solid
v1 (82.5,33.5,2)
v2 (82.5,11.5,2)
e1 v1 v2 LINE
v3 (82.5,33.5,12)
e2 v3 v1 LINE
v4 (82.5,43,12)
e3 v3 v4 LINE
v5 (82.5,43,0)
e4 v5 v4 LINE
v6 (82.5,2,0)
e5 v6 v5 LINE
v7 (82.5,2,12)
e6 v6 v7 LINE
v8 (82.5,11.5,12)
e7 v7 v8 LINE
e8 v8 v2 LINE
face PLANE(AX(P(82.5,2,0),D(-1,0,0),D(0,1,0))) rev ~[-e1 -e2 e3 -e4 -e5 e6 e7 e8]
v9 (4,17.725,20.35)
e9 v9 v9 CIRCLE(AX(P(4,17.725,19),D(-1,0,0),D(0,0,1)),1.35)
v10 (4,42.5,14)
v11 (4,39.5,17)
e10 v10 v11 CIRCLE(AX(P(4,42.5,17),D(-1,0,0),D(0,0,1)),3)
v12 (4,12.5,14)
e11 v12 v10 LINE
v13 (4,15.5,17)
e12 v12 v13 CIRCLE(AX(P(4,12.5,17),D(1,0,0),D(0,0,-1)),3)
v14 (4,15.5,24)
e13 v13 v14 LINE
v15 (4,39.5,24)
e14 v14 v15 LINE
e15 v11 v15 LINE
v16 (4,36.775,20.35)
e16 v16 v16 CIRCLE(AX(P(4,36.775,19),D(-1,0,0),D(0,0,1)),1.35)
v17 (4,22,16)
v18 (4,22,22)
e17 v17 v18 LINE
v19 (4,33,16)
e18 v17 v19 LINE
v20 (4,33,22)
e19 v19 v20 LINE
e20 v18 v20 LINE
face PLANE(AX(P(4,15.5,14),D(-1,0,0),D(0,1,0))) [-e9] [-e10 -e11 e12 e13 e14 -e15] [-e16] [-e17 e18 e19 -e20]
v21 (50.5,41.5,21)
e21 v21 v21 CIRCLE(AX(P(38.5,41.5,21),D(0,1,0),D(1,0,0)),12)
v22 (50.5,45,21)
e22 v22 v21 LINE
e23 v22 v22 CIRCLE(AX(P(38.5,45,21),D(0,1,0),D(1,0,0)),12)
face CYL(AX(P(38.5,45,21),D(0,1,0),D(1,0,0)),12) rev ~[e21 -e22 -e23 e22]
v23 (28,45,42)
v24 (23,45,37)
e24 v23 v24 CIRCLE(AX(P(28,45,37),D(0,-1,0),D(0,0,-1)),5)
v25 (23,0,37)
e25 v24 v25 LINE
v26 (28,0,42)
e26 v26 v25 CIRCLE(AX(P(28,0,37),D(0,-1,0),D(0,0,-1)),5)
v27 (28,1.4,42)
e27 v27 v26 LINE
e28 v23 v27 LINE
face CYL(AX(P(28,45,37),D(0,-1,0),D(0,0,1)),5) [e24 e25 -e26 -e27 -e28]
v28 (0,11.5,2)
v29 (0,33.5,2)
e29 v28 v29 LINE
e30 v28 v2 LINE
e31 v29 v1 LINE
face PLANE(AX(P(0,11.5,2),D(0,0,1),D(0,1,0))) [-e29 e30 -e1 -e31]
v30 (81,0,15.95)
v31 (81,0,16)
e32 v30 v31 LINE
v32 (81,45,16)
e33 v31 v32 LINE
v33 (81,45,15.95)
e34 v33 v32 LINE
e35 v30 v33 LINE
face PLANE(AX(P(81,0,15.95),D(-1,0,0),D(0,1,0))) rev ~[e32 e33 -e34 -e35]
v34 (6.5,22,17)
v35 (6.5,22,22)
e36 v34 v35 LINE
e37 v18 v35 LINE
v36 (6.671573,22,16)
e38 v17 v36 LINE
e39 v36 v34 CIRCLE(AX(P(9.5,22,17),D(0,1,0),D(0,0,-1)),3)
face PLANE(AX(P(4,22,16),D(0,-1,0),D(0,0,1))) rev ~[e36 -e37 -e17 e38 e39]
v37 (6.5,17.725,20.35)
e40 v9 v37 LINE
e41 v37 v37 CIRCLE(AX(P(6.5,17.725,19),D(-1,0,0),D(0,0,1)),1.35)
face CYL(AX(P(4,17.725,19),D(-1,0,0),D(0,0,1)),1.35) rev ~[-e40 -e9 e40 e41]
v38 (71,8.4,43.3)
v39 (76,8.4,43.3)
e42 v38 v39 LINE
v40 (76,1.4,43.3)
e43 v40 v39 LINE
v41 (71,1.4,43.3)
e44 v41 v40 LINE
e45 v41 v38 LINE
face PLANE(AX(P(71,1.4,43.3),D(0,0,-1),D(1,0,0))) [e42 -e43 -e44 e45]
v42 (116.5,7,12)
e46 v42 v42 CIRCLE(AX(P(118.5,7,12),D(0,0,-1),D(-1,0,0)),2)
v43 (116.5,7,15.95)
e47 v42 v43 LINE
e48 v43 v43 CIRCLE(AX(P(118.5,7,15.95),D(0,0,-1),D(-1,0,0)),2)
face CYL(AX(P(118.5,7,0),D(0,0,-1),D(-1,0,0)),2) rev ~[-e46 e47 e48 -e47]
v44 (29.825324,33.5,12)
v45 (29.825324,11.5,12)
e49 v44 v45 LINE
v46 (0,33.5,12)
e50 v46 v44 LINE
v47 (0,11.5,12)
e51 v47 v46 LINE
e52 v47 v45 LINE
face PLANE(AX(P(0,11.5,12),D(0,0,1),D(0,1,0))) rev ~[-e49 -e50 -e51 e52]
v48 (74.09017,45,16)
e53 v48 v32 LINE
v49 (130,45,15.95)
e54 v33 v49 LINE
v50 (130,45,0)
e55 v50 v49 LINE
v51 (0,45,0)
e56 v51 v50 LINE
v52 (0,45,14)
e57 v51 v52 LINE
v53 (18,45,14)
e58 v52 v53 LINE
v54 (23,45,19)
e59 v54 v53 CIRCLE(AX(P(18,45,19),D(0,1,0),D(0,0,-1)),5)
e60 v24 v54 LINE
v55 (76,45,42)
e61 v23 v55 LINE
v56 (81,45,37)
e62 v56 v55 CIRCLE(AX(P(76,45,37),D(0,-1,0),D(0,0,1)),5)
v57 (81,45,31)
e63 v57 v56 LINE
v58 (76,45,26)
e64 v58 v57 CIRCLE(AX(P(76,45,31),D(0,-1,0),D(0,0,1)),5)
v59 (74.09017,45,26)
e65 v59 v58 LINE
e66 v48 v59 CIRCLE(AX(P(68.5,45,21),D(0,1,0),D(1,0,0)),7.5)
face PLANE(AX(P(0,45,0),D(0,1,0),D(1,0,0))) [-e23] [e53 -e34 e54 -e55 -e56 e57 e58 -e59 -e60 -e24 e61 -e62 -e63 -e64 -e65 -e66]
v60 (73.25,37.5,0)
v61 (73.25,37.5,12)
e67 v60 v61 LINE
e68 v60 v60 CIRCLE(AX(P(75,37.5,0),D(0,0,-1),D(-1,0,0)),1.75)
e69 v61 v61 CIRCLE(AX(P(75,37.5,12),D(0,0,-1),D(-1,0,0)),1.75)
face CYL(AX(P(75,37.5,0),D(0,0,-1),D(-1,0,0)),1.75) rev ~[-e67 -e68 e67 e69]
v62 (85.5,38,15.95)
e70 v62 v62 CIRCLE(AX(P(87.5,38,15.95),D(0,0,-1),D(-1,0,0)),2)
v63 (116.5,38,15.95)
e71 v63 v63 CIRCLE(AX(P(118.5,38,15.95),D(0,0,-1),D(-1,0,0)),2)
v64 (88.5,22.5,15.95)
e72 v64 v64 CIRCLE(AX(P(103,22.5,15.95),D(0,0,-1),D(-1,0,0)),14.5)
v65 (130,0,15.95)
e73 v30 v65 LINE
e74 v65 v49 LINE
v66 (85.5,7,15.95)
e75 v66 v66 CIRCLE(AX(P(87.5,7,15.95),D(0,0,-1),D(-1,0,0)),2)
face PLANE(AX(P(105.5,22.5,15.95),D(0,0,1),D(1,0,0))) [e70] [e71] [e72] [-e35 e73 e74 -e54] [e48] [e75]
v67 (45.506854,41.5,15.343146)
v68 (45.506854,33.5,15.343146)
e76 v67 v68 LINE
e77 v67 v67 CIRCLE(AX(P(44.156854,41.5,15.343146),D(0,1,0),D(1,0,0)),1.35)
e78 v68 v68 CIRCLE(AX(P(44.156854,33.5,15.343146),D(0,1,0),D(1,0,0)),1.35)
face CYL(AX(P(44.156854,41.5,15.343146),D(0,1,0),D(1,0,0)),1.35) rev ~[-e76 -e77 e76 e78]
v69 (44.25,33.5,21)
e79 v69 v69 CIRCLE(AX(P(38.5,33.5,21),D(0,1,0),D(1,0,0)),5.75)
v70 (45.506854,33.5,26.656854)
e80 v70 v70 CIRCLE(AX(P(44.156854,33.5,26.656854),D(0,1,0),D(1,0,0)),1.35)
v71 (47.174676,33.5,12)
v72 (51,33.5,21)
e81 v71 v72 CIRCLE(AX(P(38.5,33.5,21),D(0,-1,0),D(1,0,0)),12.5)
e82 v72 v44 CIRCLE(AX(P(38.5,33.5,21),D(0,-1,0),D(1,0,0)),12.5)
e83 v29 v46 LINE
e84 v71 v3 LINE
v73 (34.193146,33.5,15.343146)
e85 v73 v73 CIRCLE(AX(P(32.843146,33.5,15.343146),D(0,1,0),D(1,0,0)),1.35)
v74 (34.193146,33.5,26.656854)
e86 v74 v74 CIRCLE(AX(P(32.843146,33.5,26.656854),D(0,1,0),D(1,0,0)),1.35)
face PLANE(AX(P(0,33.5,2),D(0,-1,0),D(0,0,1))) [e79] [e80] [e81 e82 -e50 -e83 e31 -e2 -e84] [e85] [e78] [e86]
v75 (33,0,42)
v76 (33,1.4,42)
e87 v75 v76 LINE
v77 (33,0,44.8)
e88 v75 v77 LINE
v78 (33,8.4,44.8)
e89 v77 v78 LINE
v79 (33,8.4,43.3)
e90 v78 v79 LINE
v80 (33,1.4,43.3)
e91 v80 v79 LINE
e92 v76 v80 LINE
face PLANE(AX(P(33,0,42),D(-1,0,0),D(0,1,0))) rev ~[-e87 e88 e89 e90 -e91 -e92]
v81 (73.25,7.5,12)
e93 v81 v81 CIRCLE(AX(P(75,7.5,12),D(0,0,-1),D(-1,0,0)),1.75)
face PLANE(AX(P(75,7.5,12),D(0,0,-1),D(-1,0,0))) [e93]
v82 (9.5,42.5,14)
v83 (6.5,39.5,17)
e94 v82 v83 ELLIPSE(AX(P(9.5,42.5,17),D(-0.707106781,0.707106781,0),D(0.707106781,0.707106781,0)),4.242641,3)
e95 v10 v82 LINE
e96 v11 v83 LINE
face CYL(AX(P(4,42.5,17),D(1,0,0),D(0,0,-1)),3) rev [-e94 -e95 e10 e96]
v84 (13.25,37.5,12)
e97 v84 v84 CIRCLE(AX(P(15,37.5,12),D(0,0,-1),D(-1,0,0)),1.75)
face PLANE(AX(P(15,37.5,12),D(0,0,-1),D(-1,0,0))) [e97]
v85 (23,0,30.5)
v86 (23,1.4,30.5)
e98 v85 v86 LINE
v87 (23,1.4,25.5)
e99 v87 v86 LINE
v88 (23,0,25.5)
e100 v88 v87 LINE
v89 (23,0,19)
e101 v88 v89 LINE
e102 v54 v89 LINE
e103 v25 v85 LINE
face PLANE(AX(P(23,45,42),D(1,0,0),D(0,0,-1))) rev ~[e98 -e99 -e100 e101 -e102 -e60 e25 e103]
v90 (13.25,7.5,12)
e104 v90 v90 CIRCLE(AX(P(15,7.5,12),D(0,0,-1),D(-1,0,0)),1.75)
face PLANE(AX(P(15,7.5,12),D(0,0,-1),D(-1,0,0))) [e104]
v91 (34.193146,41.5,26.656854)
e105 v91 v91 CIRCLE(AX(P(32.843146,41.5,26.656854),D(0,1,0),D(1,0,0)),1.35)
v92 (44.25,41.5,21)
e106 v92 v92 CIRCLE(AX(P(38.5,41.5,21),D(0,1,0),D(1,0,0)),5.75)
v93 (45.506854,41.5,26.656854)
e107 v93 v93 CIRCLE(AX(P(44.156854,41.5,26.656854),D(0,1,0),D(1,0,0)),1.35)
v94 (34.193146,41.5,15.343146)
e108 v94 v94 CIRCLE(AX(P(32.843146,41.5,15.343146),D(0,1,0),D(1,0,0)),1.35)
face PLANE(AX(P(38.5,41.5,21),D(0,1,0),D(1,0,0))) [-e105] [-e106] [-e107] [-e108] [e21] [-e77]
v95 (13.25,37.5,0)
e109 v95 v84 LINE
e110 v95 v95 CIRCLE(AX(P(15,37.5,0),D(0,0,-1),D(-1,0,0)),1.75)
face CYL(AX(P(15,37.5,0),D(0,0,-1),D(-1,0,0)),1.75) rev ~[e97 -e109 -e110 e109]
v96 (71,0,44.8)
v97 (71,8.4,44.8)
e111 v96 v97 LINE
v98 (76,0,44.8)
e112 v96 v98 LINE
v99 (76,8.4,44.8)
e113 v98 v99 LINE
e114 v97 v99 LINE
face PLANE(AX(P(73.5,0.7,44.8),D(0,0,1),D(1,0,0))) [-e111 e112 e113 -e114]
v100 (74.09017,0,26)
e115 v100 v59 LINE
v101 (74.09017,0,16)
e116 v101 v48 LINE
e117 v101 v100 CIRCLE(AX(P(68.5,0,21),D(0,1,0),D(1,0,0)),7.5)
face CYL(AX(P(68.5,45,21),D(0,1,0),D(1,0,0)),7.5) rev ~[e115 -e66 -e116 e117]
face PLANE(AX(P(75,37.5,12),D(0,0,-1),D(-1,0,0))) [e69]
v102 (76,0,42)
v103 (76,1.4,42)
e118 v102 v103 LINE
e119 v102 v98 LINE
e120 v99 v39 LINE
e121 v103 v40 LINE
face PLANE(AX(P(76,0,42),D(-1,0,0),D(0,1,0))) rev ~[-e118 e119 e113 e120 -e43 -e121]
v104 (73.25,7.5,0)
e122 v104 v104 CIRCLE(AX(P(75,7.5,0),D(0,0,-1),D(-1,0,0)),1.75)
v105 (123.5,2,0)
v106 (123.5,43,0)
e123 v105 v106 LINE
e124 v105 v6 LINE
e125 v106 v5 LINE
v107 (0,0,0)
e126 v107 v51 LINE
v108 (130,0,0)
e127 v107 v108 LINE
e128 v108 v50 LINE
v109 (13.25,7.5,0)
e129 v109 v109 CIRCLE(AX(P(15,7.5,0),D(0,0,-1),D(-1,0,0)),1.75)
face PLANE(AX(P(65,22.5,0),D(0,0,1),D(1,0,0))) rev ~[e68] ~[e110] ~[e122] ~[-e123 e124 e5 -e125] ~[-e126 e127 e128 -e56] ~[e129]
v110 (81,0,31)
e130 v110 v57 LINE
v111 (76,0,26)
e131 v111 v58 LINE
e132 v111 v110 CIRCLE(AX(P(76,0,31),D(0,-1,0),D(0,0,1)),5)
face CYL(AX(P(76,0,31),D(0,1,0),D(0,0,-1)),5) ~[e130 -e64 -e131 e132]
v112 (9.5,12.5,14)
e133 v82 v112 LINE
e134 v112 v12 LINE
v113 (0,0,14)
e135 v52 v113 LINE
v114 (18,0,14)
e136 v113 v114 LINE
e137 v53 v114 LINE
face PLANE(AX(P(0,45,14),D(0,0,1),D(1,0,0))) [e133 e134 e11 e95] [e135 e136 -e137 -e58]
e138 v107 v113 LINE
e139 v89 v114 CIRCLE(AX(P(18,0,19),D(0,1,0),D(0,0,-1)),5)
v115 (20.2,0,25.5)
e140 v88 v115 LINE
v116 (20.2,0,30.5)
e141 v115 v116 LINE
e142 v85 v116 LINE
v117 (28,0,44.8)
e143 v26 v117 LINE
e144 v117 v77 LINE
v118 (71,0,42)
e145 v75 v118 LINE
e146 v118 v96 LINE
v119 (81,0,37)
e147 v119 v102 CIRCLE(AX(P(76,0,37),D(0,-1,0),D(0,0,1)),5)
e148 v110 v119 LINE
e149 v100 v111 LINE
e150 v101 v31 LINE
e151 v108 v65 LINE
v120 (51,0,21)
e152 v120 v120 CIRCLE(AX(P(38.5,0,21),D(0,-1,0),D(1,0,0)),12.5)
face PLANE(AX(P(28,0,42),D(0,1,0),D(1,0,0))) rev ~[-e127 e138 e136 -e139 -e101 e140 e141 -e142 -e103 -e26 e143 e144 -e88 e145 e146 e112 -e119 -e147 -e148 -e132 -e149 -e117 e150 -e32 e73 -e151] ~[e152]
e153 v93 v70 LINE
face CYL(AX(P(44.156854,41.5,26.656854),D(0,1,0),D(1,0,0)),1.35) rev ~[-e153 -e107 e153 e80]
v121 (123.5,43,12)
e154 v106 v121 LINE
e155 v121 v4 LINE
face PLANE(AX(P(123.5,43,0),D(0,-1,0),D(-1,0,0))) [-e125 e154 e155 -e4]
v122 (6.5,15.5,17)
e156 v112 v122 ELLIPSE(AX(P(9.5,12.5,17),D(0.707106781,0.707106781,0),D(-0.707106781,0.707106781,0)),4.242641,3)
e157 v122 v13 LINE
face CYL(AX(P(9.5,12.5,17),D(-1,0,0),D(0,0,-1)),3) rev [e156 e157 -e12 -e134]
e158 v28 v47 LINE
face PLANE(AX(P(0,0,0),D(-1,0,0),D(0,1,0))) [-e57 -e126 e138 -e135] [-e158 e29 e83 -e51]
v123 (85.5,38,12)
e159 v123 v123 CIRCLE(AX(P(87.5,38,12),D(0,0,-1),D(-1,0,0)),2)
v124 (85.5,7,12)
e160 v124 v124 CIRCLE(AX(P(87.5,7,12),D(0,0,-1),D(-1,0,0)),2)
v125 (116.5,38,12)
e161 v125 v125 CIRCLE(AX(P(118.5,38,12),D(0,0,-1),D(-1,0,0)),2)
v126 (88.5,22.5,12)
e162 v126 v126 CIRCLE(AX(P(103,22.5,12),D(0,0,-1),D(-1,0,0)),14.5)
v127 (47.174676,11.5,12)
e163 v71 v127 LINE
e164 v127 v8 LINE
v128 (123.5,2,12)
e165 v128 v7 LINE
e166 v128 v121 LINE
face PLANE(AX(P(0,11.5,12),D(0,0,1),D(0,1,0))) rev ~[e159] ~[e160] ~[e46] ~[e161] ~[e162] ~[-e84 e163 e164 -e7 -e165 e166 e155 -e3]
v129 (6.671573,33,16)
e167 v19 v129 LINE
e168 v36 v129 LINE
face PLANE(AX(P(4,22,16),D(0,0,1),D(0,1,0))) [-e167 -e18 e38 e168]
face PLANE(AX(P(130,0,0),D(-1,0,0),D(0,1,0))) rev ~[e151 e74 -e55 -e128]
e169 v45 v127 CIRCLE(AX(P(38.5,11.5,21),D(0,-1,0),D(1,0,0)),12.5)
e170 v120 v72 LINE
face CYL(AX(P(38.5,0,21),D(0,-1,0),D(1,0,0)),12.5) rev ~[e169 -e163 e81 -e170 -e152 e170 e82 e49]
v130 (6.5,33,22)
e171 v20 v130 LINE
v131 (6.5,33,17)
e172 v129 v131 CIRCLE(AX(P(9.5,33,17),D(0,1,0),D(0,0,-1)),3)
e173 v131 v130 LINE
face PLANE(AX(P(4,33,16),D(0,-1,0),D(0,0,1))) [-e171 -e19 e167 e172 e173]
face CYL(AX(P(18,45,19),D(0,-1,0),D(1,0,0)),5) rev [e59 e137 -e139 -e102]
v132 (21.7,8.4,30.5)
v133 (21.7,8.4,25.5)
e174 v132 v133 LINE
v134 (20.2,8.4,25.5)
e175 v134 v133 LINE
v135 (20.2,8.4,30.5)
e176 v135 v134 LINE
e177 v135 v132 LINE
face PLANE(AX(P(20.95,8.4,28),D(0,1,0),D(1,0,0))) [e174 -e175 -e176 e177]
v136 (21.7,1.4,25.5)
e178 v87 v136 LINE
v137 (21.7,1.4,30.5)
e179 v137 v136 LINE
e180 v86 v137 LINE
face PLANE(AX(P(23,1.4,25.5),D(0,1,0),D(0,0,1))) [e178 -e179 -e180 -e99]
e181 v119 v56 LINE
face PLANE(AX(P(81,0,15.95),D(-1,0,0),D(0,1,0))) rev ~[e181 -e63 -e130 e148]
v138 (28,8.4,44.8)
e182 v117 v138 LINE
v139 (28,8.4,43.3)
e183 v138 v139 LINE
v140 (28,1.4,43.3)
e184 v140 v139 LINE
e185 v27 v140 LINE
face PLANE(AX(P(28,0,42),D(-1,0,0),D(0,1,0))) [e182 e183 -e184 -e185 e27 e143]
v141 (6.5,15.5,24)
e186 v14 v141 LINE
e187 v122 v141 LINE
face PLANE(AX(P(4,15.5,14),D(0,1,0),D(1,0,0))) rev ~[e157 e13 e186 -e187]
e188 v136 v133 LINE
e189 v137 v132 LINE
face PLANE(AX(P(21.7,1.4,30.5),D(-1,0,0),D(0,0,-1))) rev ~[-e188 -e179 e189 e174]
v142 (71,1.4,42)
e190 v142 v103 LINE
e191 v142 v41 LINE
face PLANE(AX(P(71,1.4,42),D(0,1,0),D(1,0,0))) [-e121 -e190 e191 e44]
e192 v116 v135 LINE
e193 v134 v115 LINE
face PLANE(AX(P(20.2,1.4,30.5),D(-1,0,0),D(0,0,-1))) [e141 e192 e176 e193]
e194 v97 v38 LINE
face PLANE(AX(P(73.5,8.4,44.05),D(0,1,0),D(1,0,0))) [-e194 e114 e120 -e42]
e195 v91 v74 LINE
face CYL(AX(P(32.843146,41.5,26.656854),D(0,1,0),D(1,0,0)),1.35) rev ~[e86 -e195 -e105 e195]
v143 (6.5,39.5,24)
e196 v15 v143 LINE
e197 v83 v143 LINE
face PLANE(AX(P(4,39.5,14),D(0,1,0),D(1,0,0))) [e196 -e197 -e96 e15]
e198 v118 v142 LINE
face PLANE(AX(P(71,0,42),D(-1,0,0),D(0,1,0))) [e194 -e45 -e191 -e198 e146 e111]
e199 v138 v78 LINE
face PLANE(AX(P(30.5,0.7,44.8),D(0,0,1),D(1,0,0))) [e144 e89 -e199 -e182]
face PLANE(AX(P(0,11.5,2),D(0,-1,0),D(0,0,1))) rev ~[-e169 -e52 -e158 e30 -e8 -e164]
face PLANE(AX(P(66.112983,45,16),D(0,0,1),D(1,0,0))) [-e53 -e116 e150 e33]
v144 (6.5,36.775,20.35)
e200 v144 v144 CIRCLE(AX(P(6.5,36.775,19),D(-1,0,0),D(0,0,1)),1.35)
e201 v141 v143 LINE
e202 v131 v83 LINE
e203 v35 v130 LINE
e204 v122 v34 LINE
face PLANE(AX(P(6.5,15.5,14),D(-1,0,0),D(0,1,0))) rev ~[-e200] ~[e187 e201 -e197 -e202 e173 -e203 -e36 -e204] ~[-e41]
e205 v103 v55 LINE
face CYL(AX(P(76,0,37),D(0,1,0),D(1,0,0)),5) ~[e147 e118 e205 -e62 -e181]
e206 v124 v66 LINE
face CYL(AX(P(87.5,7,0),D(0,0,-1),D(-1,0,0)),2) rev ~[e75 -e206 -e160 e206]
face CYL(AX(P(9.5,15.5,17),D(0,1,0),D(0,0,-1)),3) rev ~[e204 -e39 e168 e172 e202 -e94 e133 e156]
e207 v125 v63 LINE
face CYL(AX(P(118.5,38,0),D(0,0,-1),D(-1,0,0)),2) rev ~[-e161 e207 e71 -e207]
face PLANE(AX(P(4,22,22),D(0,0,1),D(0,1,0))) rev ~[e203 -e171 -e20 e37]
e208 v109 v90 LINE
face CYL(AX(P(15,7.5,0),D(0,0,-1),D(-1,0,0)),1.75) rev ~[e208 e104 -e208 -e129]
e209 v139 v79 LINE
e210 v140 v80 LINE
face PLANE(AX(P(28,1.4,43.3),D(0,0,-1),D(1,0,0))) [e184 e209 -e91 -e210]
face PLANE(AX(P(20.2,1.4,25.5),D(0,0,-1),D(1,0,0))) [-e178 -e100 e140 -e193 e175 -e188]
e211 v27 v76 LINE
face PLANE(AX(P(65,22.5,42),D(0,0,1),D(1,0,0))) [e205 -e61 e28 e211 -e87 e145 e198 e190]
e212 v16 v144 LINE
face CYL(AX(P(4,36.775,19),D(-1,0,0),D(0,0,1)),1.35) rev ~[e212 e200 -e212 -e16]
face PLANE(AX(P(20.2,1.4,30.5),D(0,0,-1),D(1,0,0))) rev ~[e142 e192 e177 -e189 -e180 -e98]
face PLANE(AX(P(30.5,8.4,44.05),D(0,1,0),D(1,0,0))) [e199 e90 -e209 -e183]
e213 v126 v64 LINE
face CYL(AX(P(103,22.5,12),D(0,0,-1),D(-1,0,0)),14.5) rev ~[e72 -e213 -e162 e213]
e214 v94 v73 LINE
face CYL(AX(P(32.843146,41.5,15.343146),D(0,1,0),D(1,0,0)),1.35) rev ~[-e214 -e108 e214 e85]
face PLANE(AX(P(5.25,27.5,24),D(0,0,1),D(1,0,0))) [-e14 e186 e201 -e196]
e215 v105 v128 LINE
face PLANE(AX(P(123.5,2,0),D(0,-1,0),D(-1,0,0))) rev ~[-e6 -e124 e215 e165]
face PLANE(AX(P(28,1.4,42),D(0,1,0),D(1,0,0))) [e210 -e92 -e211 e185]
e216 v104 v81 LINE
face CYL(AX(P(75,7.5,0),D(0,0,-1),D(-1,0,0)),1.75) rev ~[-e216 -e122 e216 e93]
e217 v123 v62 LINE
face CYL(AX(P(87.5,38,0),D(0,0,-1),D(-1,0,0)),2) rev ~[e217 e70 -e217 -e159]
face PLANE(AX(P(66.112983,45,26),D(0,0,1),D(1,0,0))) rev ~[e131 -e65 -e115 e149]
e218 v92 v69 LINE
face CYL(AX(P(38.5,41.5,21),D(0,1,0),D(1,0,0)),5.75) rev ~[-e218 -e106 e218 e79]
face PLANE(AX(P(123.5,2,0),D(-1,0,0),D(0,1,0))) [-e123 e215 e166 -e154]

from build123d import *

# Parameters (mm, degrees)
SKETCH1_W           = 130
SKETCH1_H           = 45
BOSS_EXTRUDE1_DEPTH = 42
SKETCH2_W           = 10
SKETCH2_H           = 22
CUT_EXTRUDE1_DEPTH  = 115
SKETCH3_W           = 41
SKETCH3_H           = 41
CUT_EXTRUDE2_DEPTH  = 12
CUT_EXTRUDE3_START  = -26.05
SKETCH5_W           = 49
SKETCH5_H           = 45
CUT_EXTRUDE3_DEPTH  = 26.05
SKETCH6_R           = 2
CUT_EXTRUDE4_DEPTH  = 43
SKETCH7_R           = 12
CUT_EXTRUDE5_DEPTH  = 3.5
SKETCH8_R           = 7.5
CUT_EXTRUDE6_DEPTH  = 46
SKETCH10_W          = 23
SKETCH10_H          = 28
CUT_EXTRUDE7_DEPTH  = 46
FILLET1_R           = 5
SKETCH11_R          = 5.75
CUT_EXTRUDE8_DEPTH  = 42.5
SKETCH12_R          = 1.35
CUT_EXTRUDE9_DEPTH  = 20
SKETCH14_R          = 1.75
CUT_EXTRUDE11_DEPTH = 12
SKETCH15_W          = 32.462008986
SKETCH15_H          = 10
CUT_EXTRUDE12_DEPTH = 46
FILLET2_R           = 5
FILLET3_R           = 5
SKETCH16_R          = 12.5
CUT_EXTRUDE13_DEPTH = 33.5
SKETCH17_W          = 2.5
SKETCH17_H          = 24
BOSS_EXTRUDE2_DEPTH = 10
SKETCH18_R          = 1.35
CUT_EXTRUDE14_DEPTH = 10
FILLET4_R           = 3
FILLET5_R           = 3
SKETCH20_W          = 5
SKETCH20_H          = 1.4
BOSS_EXTRUDE3_DEPTH = 2.8
SKETCH22_W          = 5
SKETCH22_H          = 1.4
BOSS_EXTRUDE4_DEPTH = 2.8
SKETCH25_W          = 1.5
SKETCH25_H          = 5
SKETCH25_W_2        = 5
SKETCH25_H_2        = 1.5
BOSS_EXTRUDE5_DEPTH = 7
SKETCH26_R          = 14.5
CUT_EXTRUDE15_DEPTH = 10
SKETCH27_W          = 6
SKETCH27_H          = 11
CUT_EXTRUDE16_DEPTH = 10


with BuildPart() as part:
    # Sketch1 → Boss-Extrude1 (new body)
    with BuildSketch(Plane.XY):
        with Locations((65, 22.5)):
            Rectangle(SKETCH1_W, SKETCH1_H)
    extrude(amount=BOSS_EXTRUDE1_DEPTH)

    # Sketch2 → Cut-Extrude1 (cut)
    with BuildSketch(Plane.ZY):
        with Locations((7, 22.5)):
            Rectangle(SKETCH2_W, SKETCH2_H)
    extrude(amount=-CUT_EXTRUDE1_DEPTH, mode=Mode.SUBTRACT)

    # Sketch3 → Cut-Extrude2 (cut)
    with BuildSketch(Plane(origin=(0, 0, 0), x_dir=(-1, 0, 0), z_dir=(0, 0, -1))):
        with Locations((-103, 22.5)):
            Rectangle(SKETCH3_W, SKETCH3_H)
    extrude(amount=-CUT_EXTRUDE2_DEPTH, mode=Mode.SUBTRACT)

    # Sketch5 → Cut-Extrude3 (cut)
    with BuildSketch(Plane.XY.offset(42).offset(CUT_EXTRUDE3_START)):
        with Locations((105.5, 22.5)):
            Rectangle(SKETCH5_W, SKETCH5_H)
    extrude(amount=CUT_EXTRUDE3_DEPTH, mode=Mode.SUBTRACT)

    # Sketch6 → Cut-Extrude4 (cut, through all)
    with BuildSketch(Plane(origin=(0, 0, 0), x_dir=(-1, 0, 0), z_dir=(0, 0, -1))):
        with Locations((-118.5, 38)):
            Circle(SKETCH6_R)
        with Locations((-87.5, 38)):
            Circle(SKETCH6_R)
        with Locations((-87.5, 7)):
            Circle(SKETCH6_R)
        with Locations((-118.5, 7)):
            Circle(SKETCH6_R)
    extrude(amount=-CUT_EXTRUDE4_DEPTH, mode=Mode.SUBTRACT)

    # Sketch7 → Cut-Extrude5 (cut)
    with BuildSketch(Plane(origin=(0, 45, 0), x_dir=(1, 0, 0), z_dir=(0, 1, 0))):
        with Locations((38.5, -21)):
            Circle(SKETCH7_R)
    extrude(amount=-CUT_EXTRUDE5_DEPTH, mode=Mode.SUBTRACT)

    # Sketch8 → Cut-Extrude6 (cut, through all)
    with BuildSketch(Plane(origin=(0, 45, 0), x_dir=(1, 0, 0), z_dir=(0, 1, 0))):
        with Locations((68.5, -21)):
            Circle(SKETCH8_R)
    extrude(amount=-CUT_EXTRUDE6_DEPTH, mode=Mode.SUBTRACT)

    # Sketch10 → Cut-Extrude7 (cut, through all)
    with BuildSketch(Plane(origin=(0, 45, 0), x_dir=(1, 0, 0), z_dir=(0, 1, 0))):
        with Locations((11.5, -28)):
            Rectangle(SKETCH10_W, SKETCH10_H)
    extrude(amount=-CUT_EXTRUDE7_DEPTH, mode=Mode.SUBTRACT)

    # Fillet1
    fillet1_edges = [part.edges().sort_by_distance(p)[0] for p in [
        (23, 22.5, 42),
        (81, 22.5, 42),
    ]]
    fillet(fillet1_edges, radius=FILLET1_R)

    # Sketch11 → Cut-Extrude8 (cut, through all)
    with BuildSketch(Plane(origin=(0, 41.5, 0), x_dir=(1, 0, 0), z_dir=(0, 1, 0))):
        with Locations((38.5, -21)):
            Circle(SKETCH11_R)
    extrude(amount=-CUT_EXTRUDE8_DEPTH, mode=Mode.SUBTRACT)

    # Sketch12 → Cut-Extrude9 (cut)
    with BuildSketch(Plane(origin=(0, 41.5, 0), x_dir=(1, 0, 0), z_dir=(0, 1, 0))):
        with Locations((32.843145751, -15.343145751)):
            Circle(SKETCH12_R)
        with Locations((44.156854249, -15.343145751)):
            Circle(SKETCH12_R)
        with Locations((44.156854249, -26.656854249)):
            Circle(SKETCH12_R)
        with Locations((32.843145751, -26.656854249)):
            Circle(SKETCH12_R)
    extrude(amount=-CUT_EXTRUDE9_DEPTH, mode=Mode.SUBTRACT)

    # Sketch14 → Cut-Extrude11 (cut)
    with BuildSketch(Plane(origin=(0, 0, 0), x_dir=(-1, 0, 0), z_dir=(0, 0, -1))):
        with Locations((-75, 37.5)):
            Circle(SKETCH14_R)
        with Locations((-15, 37.5)):
            Circle(SKETCH14_R)
        with Locations((-15, 7.5)):
            Circle(SKETCH14_R)
        with Locations((-75, 7.5)):
            Circle(SKETCH14_R)
    extrude(amount=-CUT_EXTRUDE11_DEPTH, mode=Mode.SUBTRACT)

    # Sketch15 → Cut-Extrude12 (cut, through all)
    with BuildSketch(Plane(origin=(0, 45, 0), x_dir=(1, 0, 0), z_dir=(0, 1, 0))):
        with Locations((82.343987658, -21)):
            Rectangle(SKETCH15_W, SKETCH15_H)
    extrude(amount=-CUT_EXTRUDE12_DEPTH, mode=Mode.SUBTRACT)

    # Fillet2
    fillet2_edges = [part.edges().sort_by_distance(p)[0] for p in [
        (81, 22.5, 26),
    ]]
    fillet(fillet2_edges, radius=FILLET2_R)

    # Fillet3
    fillet3_edges = [part.edges().sort_by_distance(p)[0] for p in [
        (23, 22.5, 14),
    ]]
    fillet(fillet3_edges, radius=FILLET3_R)

    # Sketch16 → Cut-Extrude13 (cut)
    with BuildSketch(Plane.XZ):
        with Locations((38.5, 21)):
            Circle(SKETCH16_R)
    extrude(amount=-CUT_EXTRUDE13_DEPTH, mode=Mode.SUBTRACT)

    # Sketch17 → Boss-Extrude2 (add)
    with BuildSketch(Plane.XY.offset(14)):
        with Locations((5.25, 27.5)):
            Rectangle(SKETCH17_W, SKETCH17_H)
    extrude(amount=BOSS_EXTRUDE2_DEPTH)

    # Sketch18 → Cut-Extrude14 (cut)
    with BuildSketch(Plane.ZY.offset(-4)):
        with Locations((19, 36.775)):
            Circle(SKETCH18_R)
        with Locations((19, 17.725)):
            Circle(SKETCH18_R)
    extrude(amount=-CUT_EXTRUDE14_DEPTH, mode=Mode.SUBTRACT)

    # Fillet4
    fillet4_edges = [part.edges().sort_by_distance(p)[0] for p in [
        (6.5, 27.5, 14),
    ]]
    fillet(fillet4_edges, radius=FILLET4_R)

    # Fillet5
    fillet5_edges = [part.edges().sort_by_distance(p)[0] for p in [
        (8, 39.5, 14),
        (8, 15.5, 14),
    ]]
    fillet(fillet5_edges, radius=FILLET5_R)

    # Sketch20 → Boss-Extrude3 (add)
    with BuildSketch(Plane.XY.offset(42)):
        with Locations((30.5, 0.7)):
            Rectangle(SKETCH20_W, SKETCH20_H)
        with Locations((73.5, 0.7)):
            Rectangle(SKETCH20_W, SKETCH20_H)
    extrude(amount=BOSS_EXTRUDE3_DEPTH)

    # Sketch22 → Boss-Extrude4 (add)
    with BuildSketch(Plane.ZY.offset(-23)):
        with Locations((28, 0.7)):
            Rectangle(SKETCH22_W, SKETCH22_H)
    extrude(amount=BOSS_EXTRUDE4_DEPTH)

    # Sketch25 → Boss-Extrude5 (add)
    with BuildSketch(Plane(origin=(0, 1.4, 0), x_dir=(1, 0, 0), z_dir=(0, 1, 0))):
        with Locations((20.95, -28)):
            Rectangle(SKETCH25_W, SKETCH25_H)
        with Locations((73.5, -44.05)):
            Rectangle(SKETCH25_W_2, SKETCH25_H_2)
        with Locations((30.5, -44.05)):
            Rectangle(SKETCH25_W_2, SKETCH25_H_2)
    extrude(amount=BOSS_EXTRUDE5_DEPTH)

    # Sketch26 → Cut-Extrude15 (cut)
    with BuildSketch(Plane(origin=(0, 0, 12), x_dir=(-1, 0, 0), z_dir=(0, 0, -1))):
        with Locations((-103, 22.5)):
            Circle(SKETCH26_R)
    extrude(amount=-CUT_EXTRUDE15_DEPTH, mode=Mode.SUBTRACT)

    # Sketch27 → Cut-Extrude16 (cut)
    with BuildSketch(Plane.ZY.offset(-4)):
        with Locations((19, 27.5)):
            Rectangle(SKETCH27_W, SKETCH27_H)
    extrude(amount=-CUT_EXTRUDE16_DEPTH, mode=Mode.SUBTRACT)


solid = part.part
